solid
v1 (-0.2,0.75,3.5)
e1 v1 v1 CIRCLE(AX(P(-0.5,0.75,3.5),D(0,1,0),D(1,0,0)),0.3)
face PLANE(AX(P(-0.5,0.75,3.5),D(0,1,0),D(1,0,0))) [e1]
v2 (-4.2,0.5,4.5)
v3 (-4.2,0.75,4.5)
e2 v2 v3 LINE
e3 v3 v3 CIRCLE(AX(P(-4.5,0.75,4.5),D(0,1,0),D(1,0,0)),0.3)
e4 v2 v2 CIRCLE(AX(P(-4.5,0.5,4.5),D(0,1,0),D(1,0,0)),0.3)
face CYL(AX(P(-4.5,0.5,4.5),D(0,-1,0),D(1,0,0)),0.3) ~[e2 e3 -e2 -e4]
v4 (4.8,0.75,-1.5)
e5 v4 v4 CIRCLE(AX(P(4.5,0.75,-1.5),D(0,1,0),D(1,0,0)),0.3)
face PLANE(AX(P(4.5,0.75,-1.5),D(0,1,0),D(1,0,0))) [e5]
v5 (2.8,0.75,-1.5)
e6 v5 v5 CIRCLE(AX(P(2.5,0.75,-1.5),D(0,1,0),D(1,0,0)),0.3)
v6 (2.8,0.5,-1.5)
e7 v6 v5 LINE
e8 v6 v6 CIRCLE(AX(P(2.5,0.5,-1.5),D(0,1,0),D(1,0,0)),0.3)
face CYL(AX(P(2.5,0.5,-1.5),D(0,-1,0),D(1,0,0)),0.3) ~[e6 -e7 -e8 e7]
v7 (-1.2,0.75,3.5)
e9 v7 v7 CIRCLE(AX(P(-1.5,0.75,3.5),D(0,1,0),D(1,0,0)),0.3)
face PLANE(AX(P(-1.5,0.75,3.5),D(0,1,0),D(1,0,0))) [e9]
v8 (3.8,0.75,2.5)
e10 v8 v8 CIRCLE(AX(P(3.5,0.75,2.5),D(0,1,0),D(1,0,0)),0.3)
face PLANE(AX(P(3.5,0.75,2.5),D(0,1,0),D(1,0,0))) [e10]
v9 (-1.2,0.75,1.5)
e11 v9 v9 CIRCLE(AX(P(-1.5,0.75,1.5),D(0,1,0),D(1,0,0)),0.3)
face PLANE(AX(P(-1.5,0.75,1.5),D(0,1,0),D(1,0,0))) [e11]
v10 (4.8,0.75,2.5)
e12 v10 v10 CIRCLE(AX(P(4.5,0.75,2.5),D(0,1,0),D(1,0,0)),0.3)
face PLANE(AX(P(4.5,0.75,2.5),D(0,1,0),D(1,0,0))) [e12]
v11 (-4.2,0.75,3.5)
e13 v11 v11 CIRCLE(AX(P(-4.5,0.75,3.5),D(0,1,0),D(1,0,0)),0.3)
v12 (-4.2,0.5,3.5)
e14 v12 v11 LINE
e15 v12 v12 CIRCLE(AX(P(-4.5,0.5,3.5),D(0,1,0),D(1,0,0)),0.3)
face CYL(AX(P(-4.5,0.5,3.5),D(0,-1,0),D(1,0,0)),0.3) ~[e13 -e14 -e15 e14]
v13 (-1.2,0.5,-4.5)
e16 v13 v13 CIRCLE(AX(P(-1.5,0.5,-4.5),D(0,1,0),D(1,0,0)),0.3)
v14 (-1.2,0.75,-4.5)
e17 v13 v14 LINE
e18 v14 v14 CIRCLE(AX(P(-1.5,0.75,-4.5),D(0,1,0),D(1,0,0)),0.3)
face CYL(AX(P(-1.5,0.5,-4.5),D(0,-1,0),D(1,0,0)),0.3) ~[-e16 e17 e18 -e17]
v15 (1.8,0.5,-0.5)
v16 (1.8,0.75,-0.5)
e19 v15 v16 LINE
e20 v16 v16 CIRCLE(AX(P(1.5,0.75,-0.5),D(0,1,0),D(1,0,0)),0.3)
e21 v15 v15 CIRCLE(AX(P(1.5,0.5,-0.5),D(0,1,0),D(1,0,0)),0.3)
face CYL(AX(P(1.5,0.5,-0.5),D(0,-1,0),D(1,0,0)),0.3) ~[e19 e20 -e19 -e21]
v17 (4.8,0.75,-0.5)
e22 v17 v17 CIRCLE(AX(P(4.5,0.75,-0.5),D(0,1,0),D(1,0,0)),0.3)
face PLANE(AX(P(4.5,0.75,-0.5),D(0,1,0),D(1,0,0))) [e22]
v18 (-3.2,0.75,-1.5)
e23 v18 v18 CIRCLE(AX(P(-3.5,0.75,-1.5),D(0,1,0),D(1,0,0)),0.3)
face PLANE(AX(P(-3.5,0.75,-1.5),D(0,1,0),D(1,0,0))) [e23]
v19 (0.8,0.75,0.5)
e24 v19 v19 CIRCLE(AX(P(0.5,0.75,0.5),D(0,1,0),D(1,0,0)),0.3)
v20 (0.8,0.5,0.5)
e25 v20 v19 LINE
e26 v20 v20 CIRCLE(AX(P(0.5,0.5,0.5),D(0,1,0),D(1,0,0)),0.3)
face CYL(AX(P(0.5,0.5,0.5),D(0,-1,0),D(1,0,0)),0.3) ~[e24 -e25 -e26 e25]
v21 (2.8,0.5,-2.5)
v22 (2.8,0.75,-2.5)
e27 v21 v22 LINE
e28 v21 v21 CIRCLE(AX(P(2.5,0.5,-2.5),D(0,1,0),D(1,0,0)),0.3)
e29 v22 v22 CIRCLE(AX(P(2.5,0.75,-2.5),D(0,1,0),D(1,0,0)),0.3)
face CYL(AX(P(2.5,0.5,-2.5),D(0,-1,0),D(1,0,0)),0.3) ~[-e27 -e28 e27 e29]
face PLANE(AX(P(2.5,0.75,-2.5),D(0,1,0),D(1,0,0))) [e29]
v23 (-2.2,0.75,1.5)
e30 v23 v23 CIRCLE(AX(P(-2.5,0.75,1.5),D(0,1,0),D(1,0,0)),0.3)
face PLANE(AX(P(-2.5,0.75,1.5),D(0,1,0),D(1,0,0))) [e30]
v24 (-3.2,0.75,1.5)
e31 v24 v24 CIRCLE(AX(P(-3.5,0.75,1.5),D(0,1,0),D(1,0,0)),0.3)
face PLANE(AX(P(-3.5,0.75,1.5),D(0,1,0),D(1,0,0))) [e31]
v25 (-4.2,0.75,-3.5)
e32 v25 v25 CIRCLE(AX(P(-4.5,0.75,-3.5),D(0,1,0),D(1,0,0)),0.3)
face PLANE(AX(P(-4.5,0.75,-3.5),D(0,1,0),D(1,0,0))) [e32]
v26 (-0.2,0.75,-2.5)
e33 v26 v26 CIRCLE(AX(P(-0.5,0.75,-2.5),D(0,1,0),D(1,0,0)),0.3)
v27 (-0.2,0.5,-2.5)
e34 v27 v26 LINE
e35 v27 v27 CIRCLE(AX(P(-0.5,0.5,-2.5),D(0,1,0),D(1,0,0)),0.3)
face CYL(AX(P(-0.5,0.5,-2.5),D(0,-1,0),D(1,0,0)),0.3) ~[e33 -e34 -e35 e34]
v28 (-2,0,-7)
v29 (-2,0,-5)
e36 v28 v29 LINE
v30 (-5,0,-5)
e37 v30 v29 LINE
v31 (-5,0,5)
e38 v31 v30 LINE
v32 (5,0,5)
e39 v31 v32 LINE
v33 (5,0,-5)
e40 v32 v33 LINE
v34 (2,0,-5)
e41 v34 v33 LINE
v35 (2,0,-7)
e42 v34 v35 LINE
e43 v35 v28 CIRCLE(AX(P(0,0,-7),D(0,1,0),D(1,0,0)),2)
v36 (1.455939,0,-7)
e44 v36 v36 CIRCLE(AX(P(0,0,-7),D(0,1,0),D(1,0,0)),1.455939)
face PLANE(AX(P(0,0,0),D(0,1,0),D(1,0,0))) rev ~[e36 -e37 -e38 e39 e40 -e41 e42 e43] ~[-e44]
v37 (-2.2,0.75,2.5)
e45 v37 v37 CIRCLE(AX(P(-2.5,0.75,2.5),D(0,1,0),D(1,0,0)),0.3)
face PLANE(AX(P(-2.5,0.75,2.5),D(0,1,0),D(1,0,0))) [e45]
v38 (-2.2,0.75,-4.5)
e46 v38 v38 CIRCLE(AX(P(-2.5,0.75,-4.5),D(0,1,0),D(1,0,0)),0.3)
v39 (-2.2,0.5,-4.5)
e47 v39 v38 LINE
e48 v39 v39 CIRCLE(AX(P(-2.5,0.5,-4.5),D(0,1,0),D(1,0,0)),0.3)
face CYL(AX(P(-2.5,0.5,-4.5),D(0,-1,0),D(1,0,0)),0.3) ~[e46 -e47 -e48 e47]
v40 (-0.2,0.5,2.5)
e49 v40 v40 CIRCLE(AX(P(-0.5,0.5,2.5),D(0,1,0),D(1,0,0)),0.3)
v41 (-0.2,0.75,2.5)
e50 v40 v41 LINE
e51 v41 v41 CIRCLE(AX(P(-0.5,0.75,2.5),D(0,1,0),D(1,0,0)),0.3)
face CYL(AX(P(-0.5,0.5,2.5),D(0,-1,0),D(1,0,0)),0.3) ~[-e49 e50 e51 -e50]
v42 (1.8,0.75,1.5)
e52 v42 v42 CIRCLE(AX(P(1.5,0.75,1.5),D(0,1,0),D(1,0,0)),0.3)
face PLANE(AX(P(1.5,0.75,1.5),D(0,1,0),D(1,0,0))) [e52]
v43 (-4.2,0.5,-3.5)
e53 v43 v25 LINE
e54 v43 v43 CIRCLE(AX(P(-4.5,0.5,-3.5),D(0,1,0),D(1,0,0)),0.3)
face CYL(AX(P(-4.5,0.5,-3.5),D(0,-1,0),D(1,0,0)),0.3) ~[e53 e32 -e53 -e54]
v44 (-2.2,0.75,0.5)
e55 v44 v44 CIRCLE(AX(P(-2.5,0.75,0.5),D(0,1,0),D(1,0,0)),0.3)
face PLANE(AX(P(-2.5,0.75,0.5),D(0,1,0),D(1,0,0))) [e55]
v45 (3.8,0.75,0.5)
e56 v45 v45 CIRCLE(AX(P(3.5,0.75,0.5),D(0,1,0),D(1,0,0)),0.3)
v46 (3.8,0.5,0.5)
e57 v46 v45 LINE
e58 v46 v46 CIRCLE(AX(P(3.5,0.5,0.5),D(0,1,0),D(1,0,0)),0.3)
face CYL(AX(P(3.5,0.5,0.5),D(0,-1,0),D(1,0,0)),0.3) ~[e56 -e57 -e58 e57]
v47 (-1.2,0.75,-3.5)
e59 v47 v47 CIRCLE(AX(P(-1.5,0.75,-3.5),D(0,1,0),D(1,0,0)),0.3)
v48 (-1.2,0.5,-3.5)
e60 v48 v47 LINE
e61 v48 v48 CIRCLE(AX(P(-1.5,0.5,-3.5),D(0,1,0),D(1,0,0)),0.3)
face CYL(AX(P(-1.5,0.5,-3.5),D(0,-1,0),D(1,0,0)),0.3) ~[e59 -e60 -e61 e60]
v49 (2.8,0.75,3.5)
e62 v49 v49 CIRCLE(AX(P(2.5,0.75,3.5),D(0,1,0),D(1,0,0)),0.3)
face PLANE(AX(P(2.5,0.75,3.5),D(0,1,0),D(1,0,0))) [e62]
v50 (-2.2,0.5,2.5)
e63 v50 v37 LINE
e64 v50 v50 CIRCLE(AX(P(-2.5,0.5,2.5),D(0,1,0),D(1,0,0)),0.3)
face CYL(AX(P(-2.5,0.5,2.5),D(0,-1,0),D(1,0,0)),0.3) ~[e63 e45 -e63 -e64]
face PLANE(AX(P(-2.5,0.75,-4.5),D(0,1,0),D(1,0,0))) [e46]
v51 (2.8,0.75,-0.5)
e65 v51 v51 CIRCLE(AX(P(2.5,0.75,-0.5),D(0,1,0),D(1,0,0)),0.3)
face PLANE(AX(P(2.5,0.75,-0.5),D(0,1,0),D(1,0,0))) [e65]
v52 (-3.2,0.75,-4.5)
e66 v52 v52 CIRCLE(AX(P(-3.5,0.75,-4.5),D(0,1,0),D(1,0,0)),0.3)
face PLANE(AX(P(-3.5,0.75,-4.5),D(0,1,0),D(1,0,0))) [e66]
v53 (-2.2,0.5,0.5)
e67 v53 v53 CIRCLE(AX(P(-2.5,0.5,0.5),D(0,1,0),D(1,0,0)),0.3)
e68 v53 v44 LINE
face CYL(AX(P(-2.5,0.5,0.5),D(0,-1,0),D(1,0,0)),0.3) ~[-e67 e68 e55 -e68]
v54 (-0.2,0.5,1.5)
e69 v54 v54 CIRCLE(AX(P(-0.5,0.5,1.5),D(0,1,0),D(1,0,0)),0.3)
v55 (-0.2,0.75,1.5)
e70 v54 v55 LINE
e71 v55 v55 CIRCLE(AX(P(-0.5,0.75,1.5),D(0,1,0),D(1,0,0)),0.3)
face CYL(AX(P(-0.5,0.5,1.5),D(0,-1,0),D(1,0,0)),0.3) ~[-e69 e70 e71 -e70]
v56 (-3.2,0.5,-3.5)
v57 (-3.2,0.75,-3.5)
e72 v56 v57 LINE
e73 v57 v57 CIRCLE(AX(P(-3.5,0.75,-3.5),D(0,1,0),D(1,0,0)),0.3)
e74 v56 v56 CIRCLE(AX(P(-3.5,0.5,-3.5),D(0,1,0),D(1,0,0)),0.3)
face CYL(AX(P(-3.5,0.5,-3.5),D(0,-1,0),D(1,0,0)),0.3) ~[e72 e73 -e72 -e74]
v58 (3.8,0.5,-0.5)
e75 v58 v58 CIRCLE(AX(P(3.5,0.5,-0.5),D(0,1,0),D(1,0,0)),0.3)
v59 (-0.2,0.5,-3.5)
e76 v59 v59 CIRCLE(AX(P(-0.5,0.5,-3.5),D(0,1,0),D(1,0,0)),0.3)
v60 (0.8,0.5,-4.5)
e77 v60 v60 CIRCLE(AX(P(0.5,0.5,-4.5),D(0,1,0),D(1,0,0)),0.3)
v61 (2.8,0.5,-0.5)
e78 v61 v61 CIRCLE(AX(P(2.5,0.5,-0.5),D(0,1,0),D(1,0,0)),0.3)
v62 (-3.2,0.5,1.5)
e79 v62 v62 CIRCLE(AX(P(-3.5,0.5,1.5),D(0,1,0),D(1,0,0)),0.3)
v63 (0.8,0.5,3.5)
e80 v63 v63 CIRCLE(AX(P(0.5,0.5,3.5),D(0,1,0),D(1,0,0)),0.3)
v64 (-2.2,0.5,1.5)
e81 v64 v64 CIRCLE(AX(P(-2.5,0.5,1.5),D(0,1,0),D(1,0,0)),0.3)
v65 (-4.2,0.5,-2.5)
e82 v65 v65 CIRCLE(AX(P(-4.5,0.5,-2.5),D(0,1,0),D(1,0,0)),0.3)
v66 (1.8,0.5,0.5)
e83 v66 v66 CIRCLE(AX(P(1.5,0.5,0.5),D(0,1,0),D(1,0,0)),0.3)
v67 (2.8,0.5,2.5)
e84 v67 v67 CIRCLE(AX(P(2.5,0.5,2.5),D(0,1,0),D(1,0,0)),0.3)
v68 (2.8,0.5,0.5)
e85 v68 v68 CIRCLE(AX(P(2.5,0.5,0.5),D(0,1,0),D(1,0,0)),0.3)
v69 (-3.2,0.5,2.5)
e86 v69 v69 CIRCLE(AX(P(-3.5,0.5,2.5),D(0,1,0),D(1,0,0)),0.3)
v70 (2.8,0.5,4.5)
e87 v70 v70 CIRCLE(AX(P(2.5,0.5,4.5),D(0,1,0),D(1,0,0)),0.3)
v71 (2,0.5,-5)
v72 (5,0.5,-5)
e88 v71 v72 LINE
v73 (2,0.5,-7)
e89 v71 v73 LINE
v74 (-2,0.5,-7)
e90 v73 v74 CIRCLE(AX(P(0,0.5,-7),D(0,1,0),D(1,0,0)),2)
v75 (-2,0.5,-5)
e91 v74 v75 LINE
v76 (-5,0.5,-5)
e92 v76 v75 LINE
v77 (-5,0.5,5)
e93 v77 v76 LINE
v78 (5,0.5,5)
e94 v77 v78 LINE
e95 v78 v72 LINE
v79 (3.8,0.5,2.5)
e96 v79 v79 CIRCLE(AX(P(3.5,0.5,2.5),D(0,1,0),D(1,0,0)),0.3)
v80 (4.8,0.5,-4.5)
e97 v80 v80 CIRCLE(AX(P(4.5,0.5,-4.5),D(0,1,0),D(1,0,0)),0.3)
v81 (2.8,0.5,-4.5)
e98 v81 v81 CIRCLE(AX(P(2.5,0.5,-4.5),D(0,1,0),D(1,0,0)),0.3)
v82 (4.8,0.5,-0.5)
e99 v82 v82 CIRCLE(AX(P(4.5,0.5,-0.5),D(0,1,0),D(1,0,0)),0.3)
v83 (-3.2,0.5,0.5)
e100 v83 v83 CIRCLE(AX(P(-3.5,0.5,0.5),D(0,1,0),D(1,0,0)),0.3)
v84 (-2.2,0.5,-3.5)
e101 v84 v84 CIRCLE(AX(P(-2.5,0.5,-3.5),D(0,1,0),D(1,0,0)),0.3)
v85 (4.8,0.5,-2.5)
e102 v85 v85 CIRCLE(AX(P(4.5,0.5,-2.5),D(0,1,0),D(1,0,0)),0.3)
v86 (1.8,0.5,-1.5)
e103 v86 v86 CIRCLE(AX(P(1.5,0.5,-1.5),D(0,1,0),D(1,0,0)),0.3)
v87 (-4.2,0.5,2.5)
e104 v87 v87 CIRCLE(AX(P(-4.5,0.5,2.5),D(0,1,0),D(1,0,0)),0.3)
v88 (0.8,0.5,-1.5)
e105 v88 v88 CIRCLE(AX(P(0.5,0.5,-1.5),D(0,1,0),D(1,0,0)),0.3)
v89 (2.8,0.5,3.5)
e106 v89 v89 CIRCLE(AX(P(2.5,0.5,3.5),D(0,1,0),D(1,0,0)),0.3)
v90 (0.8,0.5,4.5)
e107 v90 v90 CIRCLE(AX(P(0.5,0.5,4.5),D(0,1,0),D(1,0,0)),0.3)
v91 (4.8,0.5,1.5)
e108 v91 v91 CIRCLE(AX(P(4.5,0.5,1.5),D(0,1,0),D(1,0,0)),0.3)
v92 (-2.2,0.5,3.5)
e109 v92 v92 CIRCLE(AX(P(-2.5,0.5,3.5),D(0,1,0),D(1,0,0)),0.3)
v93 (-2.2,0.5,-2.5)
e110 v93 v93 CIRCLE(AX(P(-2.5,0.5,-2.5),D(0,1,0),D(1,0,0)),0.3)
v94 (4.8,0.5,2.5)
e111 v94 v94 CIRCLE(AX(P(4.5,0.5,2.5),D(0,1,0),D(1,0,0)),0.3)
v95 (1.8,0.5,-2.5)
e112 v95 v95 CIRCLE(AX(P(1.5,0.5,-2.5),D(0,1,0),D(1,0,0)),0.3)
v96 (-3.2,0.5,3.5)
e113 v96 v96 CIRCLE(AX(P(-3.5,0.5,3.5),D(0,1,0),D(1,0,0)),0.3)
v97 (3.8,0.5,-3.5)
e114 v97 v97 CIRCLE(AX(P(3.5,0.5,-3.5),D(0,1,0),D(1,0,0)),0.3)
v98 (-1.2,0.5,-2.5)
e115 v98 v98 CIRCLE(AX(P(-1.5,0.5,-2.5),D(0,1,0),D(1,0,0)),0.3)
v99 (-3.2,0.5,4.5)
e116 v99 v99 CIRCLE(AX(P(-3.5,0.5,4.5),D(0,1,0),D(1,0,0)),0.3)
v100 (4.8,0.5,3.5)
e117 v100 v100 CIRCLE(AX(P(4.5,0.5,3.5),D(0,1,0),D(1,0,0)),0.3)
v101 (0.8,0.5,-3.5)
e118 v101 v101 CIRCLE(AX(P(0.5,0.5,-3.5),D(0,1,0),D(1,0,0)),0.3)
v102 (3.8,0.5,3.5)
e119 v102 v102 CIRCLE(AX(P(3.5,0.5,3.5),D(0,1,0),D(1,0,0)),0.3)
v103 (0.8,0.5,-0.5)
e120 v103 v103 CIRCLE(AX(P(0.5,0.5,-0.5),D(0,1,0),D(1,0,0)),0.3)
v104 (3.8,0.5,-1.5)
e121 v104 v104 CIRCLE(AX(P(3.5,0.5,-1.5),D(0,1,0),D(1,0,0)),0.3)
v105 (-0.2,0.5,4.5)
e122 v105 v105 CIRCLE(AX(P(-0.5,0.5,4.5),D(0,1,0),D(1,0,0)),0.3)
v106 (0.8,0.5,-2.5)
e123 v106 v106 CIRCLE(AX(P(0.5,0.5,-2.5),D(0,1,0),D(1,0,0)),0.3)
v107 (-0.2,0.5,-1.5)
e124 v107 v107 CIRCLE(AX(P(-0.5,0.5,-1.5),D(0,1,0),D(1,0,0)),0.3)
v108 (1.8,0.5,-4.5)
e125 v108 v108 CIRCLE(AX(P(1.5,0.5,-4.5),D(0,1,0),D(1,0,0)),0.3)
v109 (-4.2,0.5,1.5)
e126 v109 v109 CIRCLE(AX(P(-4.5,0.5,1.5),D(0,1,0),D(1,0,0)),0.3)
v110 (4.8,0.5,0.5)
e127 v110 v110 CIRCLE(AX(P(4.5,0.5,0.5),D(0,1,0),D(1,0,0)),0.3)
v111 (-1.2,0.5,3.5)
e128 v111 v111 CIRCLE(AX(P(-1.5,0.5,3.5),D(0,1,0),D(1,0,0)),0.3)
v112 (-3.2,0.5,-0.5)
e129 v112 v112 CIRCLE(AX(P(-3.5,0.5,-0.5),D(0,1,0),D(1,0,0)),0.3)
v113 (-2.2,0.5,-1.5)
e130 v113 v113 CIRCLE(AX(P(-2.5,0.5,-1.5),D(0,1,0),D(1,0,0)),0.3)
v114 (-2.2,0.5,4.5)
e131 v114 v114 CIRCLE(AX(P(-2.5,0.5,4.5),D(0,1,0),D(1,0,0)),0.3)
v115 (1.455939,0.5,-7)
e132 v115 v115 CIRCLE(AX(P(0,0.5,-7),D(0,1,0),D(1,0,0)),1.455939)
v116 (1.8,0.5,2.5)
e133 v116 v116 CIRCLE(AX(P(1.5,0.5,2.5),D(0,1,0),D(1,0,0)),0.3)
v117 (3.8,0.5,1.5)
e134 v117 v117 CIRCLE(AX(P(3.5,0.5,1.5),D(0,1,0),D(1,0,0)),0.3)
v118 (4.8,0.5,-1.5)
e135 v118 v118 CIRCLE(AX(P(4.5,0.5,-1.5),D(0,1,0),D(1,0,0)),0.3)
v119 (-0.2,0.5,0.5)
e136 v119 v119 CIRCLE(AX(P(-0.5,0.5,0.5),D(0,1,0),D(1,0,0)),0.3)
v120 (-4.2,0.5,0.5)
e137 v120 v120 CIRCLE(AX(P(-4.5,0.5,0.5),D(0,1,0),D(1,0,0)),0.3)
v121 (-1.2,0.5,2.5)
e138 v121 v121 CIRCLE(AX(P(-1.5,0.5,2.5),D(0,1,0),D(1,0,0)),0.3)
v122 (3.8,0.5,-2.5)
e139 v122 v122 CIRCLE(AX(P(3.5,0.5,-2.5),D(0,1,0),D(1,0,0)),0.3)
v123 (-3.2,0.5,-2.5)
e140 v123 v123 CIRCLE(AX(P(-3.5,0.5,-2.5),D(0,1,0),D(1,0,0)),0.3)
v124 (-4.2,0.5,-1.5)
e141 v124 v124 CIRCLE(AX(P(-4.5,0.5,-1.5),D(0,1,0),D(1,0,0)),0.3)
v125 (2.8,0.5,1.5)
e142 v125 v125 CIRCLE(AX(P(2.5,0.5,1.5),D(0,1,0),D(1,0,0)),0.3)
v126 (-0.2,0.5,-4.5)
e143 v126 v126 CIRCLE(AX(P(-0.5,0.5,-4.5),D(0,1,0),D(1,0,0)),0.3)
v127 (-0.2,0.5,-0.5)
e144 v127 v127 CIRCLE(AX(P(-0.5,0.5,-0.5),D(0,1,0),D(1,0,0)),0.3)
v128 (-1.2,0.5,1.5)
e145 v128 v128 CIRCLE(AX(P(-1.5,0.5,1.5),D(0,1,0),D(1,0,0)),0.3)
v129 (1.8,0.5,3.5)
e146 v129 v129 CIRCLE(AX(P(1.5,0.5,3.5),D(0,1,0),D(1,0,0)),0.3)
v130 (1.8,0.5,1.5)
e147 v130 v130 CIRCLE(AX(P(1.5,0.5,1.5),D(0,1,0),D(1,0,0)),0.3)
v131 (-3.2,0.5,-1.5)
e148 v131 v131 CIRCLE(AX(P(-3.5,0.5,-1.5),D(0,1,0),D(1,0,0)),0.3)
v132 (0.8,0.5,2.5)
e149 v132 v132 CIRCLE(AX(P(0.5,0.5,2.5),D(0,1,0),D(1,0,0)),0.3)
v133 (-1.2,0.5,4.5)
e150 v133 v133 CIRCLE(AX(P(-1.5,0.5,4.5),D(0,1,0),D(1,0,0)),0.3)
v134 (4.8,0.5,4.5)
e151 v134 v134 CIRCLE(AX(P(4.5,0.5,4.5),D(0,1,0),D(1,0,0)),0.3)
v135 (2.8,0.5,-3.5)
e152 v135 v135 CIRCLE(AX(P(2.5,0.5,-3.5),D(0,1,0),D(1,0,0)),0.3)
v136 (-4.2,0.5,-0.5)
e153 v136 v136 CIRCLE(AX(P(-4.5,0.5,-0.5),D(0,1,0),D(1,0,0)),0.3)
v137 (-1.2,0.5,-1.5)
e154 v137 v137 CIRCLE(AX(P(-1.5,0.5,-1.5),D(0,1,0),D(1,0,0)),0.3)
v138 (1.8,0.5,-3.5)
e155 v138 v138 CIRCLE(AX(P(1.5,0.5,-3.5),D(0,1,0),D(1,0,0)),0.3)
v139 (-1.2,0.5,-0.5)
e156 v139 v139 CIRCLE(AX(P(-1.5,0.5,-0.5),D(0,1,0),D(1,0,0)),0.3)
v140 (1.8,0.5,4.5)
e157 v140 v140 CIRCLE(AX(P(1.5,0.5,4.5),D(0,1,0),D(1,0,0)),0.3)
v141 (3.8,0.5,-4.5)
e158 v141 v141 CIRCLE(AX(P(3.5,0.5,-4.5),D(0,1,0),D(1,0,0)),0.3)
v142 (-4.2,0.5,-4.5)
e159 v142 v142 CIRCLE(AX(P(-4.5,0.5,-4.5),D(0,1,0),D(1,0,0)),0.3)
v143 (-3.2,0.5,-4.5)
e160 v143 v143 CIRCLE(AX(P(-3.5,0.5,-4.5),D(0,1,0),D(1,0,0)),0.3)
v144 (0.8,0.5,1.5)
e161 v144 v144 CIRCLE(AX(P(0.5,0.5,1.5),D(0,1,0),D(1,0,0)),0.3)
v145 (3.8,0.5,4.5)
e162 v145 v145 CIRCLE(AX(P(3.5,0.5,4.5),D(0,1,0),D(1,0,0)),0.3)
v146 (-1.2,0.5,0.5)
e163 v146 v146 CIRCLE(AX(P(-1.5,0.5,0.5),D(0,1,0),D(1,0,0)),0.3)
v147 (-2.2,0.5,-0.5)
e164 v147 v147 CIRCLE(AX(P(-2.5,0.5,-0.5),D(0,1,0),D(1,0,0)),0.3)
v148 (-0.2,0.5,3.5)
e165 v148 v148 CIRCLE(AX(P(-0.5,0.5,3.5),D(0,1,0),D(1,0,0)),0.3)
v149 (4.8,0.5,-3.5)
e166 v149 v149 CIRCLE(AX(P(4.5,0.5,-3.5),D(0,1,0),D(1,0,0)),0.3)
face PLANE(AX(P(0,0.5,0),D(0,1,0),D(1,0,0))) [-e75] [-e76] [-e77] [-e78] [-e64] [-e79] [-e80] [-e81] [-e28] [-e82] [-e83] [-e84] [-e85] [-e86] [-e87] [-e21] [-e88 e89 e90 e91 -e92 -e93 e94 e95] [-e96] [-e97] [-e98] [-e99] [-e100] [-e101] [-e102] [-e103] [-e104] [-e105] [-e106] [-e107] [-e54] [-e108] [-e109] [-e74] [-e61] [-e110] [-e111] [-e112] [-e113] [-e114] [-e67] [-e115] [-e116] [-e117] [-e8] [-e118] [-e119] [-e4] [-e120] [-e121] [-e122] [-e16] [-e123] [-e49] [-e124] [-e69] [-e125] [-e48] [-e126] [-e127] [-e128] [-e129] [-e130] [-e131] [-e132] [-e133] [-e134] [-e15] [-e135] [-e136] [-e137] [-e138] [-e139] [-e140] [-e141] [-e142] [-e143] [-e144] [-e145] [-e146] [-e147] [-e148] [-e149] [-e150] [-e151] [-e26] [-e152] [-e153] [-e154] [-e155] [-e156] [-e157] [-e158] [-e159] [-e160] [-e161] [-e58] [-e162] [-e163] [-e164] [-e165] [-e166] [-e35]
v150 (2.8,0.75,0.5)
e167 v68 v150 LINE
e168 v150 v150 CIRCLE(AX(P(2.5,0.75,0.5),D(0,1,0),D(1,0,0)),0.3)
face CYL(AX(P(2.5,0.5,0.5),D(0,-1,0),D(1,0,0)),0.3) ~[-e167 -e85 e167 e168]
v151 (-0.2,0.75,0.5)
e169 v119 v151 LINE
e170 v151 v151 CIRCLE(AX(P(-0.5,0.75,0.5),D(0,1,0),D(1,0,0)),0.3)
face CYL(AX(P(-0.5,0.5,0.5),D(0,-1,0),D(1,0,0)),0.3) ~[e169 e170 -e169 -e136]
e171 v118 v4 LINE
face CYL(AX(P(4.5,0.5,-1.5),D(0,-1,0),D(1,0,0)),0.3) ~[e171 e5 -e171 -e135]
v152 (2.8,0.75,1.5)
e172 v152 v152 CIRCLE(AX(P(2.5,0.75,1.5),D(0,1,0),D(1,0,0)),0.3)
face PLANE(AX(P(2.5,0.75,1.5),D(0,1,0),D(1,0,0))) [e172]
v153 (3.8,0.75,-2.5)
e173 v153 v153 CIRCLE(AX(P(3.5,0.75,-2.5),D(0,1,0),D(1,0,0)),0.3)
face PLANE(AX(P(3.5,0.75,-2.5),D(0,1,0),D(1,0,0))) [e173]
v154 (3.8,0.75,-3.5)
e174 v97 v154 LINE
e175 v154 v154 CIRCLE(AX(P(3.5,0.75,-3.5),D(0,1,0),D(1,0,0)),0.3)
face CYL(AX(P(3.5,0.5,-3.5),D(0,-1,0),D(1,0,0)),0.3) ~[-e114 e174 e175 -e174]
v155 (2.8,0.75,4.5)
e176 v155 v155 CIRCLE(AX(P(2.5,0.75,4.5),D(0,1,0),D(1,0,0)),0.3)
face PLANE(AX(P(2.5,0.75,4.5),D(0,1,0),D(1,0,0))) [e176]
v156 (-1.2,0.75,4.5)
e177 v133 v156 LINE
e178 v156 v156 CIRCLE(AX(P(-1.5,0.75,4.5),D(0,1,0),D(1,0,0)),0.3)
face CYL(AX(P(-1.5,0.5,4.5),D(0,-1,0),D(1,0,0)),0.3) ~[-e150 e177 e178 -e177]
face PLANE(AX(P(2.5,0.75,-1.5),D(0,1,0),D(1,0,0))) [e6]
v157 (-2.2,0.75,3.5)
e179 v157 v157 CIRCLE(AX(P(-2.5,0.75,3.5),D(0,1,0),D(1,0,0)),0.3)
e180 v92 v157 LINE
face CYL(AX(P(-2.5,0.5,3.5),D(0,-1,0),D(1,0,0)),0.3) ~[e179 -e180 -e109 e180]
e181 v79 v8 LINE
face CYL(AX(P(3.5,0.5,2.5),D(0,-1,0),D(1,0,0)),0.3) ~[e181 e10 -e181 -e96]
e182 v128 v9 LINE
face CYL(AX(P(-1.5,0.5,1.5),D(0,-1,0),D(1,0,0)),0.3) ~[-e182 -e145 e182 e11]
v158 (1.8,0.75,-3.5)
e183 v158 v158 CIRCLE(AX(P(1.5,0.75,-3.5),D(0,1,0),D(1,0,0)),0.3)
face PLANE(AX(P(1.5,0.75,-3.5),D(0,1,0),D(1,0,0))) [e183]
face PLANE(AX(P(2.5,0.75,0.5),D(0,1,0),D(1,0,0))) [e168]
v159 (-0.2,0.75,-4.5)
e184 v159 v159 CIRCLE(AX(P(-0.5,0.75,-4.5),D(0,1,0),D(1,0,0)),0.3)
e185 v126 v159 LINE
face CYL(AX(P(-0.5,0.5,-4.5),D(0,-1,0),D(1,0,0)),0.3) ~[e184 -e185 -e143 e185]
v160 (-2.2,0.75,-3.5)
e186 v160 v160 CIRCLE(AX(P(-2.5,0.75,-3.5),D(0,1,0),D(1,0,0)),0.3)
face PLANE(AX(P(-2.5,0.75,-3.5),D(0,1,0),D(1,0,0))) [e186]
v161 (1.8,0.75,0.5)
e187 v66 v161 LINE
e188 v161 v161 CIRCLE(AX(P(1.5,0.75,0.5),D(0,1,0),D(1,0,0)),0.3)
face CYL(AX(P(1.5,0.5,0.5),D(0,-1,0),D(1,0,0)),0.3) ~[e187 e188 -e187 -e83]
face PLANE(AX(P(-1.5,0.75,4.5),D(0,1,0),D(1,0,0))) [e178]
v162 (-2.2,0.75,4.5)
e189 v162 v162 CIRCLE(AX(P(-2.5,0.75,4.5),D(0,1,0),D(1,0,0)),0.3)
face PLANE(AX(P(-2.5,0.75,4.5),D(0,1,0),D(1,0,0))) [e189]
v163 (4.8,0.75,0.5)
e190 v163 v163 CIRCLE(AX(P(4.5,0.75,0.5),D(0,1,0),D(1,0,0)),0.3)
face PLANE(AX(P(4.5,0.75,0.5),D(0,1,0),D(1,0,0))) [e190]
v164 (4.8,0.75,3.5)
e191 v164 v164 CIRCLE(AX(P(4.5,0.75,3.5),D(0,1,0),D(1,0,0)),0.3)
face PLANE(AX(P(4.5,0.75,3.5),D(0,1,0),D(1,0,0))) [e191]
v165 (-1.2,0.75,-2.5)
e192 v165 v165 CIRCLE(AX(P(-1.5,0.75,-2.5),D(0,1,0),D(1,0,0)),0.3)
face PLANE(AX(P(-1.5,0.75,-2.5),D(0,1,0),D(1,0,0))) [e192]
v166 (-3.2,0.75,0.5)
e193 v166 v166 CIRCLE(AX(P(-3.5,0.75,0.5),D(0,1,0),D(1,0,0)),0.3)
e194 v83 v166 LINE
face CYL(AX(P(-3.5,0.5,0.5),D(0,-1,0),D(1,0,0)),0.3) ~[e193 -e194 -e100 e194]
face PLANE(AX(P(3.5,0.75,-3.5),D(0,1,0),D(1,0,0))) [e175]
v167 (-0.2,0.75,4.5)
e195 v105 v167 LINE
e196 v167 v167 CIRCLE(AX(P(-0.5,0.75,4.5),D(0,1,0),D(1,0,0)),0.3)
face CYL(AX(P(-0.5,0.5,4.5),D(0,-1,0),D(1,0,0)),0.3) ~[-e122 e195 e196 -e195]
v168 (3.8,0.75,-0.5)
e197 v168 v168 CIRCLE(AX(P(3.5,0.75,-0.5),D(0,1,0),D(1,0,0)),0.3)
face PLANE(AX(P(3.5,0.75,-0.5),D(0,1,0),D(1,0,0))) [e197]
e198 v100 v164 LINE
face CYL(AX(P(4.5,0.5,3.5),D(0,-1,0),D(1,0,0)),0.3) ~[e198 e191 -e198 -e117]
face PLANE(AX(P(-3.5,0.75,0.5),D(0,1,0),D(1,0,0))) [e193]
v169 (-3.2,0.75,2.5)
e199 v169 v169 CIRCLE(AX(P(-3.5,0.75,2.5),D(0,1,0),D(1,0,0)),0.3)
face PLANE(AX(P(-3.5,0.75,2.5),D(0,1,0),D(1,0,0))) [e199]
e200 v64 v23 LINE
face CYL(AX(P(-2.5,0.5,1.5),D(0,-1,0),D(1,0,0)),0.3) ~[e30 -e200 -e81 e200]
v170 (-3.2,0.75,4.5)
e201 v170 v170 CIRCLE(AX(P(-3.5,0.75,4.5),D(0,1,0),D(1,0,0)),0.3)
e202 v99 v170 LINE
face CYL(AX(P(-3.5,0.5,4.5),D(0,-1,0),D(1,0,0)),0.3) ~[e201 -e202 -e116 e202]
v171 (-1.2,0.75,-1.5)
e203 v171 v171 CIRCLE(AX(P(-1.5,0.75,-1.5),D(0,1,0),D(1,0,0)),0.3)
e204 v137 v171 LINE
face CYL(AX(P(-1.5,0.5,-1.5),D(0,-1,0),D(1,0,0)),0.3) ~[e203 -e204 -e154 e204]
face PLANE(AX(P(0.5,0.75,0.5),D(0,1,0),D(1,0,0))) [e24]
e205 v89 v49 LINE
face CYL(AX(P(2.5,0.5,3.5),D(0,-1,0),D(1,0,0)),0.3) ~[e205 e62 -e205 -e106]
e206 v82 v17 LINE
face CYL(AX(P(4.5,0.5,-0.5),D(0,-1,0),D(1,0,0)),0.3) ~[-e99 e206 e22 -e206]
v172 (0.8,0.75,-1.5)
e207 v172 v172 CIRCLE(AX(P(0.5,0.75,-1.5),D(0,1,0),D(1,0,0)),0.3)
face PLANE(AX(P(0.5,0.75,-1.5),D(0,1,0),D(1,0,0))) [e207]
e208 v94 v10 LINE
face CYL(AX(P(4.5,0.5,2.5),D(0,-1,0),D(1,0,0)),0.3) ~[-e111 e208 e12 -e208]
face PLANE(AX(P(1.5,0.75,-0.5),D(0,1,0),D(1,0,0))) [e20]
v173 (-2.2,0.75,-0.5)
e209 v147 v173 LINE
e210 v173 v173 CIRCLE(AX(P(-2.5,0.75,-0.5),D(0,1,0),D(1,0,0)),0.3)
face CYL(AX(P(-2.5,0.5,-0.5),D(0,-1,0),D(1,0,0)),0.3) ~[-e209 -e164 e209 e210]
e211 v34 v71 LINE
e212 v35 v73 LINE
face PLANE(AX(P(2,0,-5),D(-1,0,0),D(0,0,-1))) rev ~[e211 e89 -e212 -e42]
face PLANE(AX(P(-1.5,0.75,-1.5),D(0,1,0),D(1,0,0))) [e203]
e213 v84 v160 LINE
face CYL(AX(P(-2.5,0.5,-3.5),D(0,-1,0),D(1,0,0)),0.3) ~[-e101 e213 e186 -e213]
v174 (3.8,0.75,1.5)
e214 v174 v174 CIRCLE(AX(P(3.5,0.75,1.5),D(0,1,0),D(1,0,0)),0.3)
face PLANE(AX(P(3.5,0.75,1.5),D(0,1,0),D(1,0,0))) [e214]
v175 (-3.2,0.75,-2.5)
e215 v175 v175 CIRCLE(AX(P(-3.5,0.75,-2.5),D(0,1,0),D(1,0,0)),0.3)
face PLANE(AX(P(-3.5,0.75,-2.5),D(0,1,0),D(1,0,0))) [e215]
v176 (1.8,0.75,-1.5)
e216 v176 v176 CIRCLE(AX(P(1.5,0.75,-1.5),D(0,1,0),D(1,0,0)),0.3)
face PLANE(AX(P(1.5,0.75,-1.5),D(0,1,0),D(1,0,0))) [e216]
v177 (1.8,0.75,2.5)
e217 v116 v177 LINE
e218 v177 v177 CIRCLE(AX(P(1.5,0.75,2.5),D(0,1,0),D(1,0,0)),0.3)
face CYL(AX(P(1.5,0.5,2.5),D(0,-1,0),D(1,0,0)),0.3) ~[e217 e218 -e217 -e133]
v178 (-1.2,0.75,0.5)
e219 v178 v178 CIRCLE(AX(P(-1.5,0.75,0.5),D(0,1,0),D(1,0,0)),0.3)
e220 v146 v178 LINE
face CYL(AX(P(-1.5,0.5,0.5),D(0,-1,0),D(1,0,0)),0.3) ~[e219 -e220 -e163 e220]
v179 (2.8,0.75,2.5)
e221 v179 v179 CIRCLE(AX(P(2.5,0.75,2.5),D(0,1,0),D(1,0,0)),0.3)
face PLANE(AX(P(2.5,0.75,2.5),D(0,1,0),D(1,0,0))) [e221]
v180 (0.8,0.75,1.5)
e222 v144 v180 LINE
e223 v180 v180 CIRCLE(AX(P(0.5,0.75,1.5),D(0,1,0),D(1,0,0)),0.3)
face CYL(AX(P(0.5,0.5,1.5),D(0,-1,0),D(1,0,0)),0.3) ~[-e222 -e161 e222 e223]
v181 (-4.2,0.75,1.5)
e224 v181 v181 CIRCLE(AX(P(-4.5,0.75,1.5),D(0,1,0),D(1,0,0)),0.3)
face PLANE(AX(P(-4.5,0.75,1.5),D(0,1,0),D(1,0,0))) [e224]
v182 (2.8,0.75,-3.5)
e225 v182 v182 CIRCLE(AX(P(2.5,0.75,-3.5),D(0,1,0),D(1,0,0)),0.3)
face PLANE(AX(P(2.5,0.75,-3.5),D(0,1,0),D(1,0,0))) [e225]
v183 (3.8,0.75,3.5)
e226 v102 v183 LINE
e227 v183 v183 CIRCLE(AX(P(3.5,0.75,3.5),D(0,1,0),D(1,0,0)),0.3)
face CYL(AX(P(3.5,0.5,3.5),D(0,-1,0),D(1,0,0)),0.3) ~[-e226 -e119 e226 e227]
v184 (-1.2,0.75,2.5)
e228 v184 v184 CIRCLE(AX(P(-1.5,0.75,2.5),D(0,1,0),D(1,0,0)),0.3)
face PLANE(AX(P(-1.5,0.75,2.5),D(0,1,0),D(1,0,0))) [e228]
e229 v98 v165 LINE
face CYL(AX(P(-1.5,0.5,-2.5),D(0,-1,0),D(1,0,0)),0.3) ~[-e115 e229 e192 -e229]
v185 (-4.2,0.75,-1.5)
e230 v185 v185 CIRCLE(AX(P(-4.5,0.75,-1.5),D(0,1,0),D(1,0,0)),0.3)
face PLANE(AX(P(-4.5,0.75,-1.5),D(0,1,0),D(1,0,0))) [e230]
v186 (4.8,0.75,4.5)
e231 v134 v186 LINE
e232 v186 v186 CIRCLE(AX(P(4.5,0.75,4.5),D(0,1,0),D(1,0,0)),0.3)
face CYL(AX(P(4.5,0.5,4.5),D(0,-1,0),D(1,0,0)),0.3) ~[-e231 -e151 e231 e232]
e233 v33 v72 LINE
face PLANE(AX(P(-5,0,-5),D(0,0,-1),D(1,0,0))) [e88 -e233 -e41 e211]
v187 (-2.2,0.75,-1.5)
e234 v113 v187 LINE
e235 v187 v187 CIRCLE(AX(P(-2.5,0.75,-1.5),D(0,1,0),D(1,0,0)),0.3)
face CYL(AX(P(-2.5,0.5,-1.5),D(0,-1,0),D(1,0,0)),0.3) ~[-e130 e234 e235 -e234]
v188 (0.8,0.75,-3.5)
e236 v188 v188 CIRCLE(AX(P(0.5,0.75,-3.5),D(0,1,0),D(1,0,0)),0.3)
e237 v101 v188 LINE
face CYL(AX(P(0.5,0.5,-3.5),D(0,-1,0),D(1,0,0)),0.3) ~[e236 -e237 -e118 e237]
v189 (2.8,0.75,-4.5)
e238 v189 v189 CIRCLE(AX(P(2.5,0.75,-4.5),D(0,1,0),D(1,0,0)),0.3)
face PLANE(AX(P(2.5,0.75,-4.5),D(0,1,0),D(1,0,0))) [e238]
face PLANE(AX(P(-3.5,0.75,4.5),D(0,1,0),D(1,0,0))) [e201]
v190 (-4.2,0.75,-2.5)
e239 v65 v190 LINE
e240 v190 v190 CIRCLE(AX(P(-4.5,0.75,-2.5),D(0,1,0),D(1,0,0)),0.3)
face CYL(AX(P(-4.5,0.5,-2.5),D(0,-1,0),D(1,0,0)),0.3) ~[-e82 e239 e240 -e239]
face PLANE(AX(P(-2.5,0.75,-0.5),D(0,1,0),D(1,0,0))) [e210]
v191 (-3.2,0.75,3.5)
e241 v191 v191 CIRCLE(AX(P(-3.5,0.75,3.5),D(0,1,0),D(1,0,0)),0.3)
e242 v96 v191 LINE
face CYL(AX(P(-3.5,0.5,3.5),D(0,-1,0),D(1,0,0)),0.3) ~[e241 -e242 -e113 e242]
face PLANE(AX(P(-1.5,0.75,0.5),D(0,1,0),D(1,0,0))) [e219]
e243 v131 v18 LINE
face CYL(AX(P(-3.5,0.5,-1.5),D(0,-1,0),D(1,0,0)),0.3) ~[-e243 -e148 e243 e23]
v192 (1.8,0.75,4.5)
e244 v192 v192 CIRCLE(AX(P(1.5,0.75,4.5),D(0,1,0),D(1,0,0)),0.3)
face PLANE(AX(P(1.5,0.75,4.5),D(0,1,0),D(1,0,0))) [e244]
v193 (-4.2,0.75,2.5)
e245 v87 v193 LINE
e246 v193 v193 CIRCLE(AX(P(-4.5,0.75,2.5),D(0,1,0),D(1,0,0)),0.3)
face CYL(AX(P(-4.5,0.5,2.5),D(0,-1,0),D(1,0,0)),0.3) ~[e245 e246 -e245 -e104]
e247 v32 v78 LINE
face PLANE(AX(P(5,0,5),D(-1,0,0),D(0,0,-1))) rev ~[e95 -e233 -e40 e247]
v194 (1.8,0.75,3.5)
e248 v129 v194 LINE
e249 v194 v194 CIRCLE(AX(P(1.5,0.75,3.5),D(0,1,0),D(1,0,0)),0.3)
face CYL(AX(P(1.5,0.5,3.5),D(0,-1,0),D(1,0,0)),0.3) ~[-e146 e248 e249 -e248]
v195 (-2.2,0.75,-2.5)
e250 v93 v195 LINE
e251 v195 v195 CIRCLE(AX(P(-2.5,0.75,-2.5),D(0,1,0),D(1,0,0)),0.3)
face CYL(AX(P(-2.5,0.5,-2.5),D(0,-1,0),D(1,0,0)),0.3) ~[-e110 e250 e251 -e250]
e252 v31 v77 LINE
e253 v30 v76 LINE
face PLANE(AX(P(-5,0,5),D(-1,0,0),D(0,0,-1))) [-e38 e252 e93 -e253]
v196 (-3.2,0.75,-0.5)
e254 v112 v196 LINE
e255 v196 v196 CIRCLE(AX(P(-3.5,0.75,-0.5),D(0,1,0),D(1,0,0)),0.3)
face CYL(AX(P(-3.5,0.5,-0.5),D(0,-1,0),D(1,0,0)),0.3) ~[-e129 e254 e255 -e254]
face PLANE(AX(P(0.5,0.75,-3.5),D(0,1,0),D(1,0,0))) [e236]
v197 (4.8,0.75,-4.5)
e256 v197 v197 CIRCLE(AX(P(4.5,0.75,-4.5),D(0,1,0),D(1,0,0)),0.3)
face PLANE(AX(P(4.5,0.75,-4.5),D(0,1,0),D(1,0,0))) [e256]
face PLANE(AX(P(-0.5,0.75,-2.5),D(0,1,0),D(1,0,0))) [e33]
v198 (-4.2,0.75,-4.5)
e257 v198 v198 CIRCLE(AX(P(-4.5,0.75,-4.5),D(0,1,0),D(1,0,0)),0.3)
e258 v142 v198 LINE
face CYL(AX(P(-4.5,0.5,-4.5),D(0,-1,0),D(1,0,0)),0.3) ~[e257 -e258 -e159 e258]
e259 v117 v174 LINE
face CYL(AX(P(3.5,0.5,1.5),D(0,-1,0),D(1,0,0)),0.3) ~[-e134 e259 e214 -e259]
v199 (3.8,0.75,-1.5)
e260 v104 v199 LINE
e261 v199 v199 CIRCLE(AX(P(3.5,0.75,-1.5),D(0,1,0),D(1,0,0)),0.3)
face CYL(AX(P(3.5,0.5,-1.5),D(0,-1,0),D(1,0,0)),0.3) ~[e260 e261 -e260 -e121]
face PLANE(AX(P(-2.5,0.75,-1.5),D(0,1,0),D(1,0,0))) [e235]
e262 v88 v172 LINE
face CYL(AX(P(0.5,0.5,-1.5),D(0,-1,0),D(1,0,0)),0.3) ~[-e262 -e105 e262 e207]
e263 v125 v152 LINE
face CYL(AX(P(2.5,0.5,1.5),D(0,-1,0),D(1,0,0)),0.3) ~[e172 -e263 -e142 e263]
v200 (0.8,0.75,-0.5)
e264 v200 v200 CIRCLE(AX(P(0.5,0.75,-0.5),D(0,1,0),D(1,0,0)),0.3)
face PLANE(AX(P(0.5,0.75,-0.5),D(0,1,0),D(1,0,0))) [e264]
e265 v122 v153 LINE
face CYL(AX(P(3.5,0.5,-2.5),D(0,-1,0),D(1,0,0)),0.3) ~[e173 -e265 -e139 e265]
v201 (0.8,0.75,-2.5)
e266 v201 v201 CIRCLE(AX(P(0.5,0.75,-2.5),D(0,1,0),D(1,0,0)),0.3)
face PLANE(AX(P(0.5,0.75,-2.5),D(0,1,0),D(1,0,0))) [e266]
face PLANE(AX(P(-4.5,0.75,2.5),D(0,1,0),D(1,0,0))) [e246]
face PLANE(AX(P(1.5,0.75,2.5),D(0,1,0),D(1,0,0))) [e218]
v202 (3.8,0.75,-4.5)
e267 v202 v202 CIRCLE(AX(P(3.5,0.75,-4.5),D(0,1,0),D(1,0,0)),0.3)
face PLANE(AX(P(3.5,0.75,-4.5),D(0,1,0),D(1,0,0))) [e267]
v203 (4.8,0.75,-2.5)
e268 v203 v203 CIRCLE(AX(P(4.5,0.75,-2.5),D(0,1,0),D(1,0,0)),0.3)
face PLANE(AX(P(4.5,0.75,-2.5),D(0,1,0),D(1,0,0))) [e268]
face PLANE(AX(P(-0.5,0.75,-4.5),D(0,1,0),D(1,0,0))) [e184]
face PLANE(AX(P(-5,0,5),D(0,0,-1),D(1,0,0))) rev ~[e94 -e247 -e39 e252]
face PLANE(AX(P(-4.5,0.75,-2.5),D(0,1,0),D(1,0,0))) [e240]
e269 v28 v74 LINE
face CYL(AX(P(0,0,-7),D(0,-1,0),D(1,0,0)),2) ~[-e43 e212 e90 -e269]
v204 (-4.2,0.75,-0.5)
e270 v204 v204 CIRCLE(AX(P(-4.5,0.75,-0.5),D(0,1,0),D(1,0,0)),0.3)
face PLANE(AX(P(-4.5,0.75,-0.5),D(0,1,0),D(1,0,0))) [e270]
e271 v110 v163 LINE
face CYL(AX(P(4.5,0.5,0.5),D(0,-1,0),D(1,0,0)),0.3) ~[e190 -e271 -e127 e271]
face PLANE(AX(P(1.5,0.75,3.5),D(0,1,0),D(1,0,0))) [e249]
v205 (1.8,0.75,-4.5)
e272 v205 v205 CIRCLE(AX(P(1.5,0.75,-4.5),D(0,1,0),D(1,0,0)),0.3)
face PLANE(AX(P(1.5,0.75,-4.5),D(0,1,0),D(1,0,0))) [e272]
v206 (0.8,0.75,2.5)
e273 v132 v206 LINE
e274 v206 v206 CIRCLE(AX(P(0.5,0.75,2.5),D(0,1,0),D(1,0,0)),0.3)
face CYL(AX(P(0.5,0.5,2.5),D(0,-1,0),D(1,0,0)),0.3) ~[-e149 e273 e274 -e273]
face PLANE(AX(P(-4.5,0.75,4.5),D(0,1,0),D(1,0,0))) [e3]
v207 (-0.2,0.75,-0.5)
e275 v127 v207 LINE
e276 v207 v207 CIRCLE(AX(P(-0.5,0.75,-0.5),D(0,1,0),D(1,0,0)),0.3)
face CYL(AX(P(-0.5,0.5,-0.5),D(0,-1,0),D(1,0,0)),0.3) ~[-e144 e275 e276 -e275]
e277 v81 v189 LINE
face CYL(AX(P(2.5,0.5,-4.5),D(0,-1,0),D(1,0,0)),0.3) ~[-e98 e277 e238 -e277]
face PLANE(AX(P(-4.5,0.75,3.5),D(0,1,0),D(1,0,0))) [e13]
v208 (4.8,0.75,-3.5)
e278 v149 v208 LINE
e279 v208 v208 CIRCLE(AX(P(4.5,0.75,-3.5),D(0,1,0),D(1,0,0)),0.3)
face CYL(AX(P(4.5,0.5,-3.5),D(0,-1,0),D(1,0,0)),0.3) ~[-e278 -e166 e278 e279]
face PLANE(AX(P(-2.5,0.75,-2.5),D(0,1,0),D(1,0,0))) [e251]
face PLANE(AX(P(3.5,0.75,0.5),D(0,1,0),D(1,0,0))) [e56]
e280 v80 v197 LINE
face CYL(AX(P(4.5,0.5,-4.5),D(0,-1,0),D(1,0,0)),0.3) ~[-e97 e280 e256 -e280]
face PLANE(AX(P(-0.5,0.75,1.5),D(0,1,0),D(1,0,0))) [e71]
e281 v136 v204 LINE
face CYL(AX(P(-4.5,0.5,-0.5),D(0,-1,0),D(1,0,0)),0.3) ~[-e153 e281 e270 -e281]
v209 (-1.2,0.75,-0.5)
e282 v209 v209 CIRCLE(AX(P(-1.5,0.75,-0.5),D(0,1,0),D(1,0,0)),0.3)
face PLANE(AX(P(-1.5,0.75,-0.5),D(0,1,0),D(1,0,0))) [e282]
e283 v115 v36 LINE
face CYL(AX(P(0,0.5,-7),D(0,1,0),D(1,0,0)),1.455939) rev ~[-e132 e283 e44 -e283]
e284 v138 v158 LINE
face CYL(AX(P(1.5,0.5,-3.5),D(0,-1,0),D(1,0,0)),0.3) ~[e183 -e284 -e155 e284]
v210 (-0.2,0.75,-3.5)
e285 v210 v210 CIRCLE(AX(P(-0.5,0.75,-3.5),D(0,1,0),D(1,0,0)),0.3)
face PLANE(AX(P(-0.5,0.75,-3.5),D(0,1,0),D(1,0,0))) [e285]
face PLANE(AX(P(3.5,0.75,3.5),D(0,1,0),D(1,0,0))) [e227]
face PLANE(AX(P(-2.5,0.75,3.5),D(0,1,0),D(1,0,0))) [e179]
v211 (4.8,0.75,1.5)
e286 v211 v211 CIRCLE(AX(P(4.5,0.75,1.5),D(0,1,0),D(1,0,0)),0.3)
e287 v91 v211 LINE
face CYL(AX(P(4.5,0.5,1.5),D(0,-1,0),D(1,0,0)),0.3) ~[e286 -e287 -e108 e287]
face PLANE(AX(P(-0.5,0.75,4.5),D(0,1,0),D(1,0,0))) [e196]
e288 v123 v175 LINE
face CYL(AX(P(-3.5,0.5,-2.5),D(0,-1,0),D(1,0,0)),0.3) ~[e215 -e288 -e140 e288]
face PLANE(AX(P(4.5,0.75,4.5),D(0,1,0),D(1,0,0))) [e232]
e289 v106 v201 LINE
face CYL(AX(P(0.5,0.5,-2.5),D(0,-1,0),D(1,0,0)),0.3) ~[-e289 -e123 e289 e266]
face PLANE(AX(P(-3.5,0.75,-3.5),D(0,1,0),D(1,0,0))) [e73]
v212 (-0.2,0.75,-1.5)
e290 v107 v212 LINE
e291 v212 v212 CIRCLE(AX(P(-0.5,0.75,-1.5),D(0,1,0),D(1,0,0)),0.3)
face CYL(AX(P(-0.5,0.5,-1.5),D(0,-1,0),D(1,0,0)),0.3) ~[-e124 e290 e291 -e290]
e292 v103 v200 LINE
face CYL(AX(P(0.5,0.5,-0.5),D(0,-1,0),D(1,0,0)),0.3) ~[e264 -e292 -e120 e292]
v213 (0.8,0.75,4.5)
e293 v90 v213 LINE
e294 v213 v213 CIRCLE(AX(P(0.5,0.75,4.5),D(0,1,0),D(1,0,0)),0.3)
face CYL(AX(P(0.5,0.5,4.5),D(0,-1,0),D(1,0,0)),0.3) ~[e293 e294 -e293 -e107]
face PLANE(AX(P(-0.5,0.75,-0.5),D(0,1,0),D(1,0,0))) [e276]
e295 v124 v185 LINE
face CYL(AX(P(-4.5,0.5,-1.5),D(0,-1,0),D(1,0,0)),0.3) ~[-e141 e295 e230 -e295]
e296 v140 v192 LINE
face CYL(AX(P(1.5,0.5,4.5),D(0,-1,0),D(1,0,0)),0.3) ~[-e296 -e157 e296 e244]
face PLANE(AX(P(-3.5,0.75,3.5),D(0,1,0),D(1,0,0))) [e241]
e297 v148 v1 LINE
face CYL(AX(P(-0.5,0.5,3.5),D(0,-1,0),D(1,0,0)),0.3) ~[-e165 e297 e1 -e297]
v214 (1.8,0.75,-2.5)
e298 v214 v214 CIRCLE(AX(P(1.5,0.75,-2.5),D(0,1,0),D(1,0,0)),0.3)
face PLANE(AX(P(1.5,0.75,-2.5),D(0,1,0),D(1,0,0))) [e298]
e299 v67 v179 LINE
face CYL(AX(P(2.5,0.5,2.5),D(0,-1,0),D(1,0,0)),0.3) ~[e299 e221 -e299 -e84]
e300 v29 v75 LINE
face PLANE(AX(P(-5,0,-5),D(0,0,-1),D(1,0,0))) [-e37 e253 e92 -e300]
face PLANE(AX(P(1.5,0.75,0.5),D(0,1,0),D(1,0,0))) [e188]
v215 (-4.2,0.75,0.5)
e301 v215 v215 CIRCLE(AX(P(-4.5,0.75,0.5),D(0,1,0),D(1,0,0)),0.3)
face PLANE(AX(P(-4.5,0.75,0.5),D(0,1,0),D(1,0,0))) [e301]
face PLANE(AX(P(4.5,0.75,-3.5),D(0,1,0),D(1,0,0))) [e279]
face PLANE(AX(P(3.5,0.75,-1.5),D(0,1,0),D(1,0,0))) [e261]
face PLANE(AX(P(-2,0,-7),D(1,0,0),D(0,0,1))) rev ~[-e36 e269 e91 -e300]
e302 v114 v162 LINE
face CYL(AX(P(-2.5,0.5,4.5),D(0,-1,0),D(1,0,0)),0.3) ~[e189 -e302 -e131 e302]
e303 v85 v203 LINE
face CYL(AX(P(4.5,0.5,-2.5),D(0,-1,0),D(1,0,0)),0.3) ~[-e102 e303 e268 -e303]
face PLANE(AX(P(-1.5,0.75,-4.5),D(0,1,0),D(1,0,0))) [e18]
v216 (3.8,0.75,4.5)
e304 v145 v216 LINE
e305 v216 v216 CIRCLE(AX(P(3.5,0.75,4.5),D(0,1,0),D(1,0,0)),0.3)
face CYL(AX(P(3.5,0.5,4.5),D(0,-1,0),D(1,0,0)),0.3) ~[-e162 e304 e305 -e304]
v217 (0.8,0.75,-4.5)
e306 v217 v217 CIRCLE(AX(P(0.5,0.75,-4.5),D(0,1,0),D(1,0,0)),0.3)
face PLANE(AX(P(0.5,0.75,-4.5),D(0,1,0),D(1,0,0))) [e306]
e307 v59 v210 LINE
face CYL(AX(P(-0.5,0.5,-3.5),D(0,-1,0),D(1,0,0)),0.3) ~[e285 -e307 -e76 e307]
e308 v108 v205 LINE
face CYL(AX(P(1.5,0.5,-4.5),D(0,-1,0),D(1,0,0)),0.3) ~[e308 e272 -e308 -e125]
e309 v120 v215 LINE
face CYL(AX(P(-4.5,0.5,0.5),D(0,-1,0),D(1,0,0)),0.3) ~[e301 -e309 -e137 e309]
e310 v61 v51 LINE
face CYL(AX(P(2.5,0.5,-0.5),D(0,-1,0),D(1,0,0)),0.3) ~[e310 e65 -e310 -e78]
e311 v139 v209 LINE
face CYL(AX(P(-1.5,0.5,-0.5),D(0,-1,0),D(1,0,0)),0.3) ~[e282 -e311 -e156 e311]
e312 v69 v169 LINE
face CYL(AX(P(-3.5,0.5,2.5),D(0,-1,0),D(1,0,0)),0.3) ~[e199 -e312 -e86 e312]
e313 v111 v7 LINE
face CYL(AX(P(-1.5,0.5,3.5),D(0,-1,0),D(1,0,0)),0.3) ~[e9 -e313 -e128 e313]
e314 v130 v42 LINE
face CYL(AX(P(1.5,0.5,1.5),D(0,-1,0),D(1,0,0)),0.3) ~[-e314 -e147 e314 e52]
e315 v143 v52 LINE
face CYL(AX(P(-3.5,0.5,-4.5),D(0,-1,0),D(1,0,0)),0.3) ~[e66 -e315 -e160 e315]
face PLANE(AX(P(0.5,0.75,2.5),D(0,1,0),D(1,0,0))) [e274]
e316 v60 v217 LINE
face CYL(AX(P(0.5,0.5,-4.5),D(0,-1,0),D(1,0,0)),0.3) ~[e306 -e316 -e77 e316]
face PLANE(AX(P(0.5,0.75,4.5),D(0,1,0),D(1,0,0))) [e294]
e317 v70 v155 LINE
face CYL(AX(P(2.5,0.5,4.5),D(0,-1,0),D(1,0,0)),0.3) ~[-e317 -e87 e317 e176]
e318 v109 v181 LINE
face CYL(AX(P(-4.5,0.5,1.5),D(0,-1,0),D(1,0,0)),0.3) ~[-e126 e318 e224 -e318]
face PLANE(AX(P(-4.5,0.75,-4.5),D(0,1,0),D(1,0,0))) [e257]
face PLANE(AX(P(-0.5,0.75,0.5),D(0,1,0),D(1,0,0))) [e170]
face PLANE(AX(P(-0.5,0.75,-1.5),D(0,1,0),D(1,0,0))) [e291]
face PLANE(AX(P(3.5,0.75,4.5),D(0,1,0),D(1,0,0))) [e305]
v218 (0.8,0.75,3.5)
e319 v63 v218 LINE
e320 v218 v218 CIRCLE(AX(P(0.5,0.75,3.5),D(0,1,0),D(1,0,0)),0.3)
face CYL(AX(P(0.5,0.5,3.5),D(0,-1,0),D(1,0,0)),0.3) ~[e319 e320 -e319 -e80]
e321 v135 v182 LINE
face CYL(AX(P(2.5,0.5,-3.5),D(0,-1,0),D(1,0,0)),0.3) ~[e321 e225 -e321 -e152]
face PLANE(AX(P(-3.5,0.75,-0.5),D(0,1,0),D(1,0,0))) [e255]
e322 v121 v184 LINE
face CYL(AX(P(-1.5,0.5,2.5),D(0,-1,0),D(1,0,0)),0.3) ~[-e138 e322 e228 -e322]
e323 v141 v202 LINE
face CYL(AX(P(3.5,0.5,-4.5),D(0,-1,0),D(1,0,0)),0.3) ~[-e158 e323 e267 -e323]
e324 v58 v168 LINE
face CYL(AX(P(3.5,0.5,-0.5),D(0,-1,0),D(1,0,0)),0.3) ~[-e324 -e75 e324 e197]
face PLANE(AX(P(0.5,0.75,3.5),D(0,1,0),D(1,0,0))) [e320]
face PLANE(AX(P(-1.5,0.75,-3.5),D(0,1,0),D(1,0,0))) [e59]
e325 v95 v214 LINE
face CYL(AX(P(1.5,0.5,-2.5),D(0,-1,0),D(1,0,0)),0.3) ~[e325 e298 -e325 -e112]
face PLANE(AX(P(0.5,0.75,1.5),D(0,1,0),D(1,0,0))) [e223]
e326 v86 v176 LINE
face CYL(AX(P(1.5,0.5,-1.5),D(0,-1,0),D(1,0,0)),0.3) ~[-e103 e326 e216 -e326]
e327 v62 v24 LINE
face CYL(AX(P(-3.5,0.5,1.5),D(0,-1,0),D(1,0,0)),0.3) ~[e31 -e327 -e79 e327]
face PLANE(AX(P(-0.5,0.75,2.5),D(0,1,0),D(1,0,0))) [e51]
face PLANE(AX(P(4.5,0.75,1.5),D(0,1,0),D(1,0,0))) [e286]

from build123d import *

# Parameters (mm, degrees)
SKETCH1_W               = 10
SKETCH1_H               = 10
PLATE_DEPTH             = 0.5
SKETCH2_R               = 0.3
ROD_DEPTH               = 0.25
LPATTERN1_COUNT         = 10
LPATTERN1_PITCH         = 1
LPATTERN1_COUNT_DIR2    = 10
LPATTERN1_PITCH_DIR2    = 1
BOSS_EXTRUDE3_DEPTH     = 0.5
SKETCH5_R               = 1.455938962
CUT_EXTRUDE1_DEPTH      = 0.5
CUT_EXTRUDE1_DEPTH_BACK = 1.5


with BuildPart() as part:
    # Sketch1 → Plate (new body)
    with BuildSketch(Plane(origin=(0, 0, 0), x_dir=(1, 0, 0), z_dir=(0, 1, 0))):
        Rectangle(SKETCH1_W, SKETCH1_H)
    extrude(amount=PLATE_DEPTH)

    # Sketch2 → Rod (add)
    with BuildSketch(Plane(origin=(0, 0.5, 0), x_dir=(1, 0, 0), z_dir=(0, 1, 0))):
        with Locations((-4.5, -4.5)):
            Circle(SKETCH2_R)
    rod = extrude(amount=ROD_DEPTH)

    # LPattern1: Rod 10 × 10
    with Locations(*[(i * LPATTERN1_PITCH, 0, -j * LPATTERN1_PITCH_DIR2) for i in range(LPATTERN1_COUNT) for j in range(LPATTERN1_COUNT_DIR2) if (i, j) != (0, 0)]):
        add(rod)

    # Sketch4 → Boss-Extrude3 (add)
    with BuildSketch(Plane(origin=(0, 0, 0), x_dir=(1, 0, 0), z_dir=(0, 1, 0))):
        with BuildLine():
            Line((-2, 7), (-2, 5))
            Line((-2, 5), (2, 5))
            Line((2, 5), (2, 7))
            ThreePointArc((2, 7), (0, 9), (-2, 7))
        make_face()
    extrude(amount=BOSS_EXTRUDE3_DEPTH)

    # Sketch5 → Cut-Extrude1 (cut, two sides)
    with BuildSketch(Plane(origin=(0, 0.5, 0), x_dir=(1, 0, 0), z_dir=(0, 1, 0))) as cut_extrude1_sk:
        with Locations((0, 7)):
            Circle(SKETCH5_R)
    extrude(amount=CUT_EXTRUDE1_DEPTH, mode=Mode.SUBTRACT)
    extrude(cut_extrude1_sk.sketch, amount=-CUT_EXTRUDE1_DEPTH_BACK, mode=Mode.SUBTRACT)


solid = part.part
